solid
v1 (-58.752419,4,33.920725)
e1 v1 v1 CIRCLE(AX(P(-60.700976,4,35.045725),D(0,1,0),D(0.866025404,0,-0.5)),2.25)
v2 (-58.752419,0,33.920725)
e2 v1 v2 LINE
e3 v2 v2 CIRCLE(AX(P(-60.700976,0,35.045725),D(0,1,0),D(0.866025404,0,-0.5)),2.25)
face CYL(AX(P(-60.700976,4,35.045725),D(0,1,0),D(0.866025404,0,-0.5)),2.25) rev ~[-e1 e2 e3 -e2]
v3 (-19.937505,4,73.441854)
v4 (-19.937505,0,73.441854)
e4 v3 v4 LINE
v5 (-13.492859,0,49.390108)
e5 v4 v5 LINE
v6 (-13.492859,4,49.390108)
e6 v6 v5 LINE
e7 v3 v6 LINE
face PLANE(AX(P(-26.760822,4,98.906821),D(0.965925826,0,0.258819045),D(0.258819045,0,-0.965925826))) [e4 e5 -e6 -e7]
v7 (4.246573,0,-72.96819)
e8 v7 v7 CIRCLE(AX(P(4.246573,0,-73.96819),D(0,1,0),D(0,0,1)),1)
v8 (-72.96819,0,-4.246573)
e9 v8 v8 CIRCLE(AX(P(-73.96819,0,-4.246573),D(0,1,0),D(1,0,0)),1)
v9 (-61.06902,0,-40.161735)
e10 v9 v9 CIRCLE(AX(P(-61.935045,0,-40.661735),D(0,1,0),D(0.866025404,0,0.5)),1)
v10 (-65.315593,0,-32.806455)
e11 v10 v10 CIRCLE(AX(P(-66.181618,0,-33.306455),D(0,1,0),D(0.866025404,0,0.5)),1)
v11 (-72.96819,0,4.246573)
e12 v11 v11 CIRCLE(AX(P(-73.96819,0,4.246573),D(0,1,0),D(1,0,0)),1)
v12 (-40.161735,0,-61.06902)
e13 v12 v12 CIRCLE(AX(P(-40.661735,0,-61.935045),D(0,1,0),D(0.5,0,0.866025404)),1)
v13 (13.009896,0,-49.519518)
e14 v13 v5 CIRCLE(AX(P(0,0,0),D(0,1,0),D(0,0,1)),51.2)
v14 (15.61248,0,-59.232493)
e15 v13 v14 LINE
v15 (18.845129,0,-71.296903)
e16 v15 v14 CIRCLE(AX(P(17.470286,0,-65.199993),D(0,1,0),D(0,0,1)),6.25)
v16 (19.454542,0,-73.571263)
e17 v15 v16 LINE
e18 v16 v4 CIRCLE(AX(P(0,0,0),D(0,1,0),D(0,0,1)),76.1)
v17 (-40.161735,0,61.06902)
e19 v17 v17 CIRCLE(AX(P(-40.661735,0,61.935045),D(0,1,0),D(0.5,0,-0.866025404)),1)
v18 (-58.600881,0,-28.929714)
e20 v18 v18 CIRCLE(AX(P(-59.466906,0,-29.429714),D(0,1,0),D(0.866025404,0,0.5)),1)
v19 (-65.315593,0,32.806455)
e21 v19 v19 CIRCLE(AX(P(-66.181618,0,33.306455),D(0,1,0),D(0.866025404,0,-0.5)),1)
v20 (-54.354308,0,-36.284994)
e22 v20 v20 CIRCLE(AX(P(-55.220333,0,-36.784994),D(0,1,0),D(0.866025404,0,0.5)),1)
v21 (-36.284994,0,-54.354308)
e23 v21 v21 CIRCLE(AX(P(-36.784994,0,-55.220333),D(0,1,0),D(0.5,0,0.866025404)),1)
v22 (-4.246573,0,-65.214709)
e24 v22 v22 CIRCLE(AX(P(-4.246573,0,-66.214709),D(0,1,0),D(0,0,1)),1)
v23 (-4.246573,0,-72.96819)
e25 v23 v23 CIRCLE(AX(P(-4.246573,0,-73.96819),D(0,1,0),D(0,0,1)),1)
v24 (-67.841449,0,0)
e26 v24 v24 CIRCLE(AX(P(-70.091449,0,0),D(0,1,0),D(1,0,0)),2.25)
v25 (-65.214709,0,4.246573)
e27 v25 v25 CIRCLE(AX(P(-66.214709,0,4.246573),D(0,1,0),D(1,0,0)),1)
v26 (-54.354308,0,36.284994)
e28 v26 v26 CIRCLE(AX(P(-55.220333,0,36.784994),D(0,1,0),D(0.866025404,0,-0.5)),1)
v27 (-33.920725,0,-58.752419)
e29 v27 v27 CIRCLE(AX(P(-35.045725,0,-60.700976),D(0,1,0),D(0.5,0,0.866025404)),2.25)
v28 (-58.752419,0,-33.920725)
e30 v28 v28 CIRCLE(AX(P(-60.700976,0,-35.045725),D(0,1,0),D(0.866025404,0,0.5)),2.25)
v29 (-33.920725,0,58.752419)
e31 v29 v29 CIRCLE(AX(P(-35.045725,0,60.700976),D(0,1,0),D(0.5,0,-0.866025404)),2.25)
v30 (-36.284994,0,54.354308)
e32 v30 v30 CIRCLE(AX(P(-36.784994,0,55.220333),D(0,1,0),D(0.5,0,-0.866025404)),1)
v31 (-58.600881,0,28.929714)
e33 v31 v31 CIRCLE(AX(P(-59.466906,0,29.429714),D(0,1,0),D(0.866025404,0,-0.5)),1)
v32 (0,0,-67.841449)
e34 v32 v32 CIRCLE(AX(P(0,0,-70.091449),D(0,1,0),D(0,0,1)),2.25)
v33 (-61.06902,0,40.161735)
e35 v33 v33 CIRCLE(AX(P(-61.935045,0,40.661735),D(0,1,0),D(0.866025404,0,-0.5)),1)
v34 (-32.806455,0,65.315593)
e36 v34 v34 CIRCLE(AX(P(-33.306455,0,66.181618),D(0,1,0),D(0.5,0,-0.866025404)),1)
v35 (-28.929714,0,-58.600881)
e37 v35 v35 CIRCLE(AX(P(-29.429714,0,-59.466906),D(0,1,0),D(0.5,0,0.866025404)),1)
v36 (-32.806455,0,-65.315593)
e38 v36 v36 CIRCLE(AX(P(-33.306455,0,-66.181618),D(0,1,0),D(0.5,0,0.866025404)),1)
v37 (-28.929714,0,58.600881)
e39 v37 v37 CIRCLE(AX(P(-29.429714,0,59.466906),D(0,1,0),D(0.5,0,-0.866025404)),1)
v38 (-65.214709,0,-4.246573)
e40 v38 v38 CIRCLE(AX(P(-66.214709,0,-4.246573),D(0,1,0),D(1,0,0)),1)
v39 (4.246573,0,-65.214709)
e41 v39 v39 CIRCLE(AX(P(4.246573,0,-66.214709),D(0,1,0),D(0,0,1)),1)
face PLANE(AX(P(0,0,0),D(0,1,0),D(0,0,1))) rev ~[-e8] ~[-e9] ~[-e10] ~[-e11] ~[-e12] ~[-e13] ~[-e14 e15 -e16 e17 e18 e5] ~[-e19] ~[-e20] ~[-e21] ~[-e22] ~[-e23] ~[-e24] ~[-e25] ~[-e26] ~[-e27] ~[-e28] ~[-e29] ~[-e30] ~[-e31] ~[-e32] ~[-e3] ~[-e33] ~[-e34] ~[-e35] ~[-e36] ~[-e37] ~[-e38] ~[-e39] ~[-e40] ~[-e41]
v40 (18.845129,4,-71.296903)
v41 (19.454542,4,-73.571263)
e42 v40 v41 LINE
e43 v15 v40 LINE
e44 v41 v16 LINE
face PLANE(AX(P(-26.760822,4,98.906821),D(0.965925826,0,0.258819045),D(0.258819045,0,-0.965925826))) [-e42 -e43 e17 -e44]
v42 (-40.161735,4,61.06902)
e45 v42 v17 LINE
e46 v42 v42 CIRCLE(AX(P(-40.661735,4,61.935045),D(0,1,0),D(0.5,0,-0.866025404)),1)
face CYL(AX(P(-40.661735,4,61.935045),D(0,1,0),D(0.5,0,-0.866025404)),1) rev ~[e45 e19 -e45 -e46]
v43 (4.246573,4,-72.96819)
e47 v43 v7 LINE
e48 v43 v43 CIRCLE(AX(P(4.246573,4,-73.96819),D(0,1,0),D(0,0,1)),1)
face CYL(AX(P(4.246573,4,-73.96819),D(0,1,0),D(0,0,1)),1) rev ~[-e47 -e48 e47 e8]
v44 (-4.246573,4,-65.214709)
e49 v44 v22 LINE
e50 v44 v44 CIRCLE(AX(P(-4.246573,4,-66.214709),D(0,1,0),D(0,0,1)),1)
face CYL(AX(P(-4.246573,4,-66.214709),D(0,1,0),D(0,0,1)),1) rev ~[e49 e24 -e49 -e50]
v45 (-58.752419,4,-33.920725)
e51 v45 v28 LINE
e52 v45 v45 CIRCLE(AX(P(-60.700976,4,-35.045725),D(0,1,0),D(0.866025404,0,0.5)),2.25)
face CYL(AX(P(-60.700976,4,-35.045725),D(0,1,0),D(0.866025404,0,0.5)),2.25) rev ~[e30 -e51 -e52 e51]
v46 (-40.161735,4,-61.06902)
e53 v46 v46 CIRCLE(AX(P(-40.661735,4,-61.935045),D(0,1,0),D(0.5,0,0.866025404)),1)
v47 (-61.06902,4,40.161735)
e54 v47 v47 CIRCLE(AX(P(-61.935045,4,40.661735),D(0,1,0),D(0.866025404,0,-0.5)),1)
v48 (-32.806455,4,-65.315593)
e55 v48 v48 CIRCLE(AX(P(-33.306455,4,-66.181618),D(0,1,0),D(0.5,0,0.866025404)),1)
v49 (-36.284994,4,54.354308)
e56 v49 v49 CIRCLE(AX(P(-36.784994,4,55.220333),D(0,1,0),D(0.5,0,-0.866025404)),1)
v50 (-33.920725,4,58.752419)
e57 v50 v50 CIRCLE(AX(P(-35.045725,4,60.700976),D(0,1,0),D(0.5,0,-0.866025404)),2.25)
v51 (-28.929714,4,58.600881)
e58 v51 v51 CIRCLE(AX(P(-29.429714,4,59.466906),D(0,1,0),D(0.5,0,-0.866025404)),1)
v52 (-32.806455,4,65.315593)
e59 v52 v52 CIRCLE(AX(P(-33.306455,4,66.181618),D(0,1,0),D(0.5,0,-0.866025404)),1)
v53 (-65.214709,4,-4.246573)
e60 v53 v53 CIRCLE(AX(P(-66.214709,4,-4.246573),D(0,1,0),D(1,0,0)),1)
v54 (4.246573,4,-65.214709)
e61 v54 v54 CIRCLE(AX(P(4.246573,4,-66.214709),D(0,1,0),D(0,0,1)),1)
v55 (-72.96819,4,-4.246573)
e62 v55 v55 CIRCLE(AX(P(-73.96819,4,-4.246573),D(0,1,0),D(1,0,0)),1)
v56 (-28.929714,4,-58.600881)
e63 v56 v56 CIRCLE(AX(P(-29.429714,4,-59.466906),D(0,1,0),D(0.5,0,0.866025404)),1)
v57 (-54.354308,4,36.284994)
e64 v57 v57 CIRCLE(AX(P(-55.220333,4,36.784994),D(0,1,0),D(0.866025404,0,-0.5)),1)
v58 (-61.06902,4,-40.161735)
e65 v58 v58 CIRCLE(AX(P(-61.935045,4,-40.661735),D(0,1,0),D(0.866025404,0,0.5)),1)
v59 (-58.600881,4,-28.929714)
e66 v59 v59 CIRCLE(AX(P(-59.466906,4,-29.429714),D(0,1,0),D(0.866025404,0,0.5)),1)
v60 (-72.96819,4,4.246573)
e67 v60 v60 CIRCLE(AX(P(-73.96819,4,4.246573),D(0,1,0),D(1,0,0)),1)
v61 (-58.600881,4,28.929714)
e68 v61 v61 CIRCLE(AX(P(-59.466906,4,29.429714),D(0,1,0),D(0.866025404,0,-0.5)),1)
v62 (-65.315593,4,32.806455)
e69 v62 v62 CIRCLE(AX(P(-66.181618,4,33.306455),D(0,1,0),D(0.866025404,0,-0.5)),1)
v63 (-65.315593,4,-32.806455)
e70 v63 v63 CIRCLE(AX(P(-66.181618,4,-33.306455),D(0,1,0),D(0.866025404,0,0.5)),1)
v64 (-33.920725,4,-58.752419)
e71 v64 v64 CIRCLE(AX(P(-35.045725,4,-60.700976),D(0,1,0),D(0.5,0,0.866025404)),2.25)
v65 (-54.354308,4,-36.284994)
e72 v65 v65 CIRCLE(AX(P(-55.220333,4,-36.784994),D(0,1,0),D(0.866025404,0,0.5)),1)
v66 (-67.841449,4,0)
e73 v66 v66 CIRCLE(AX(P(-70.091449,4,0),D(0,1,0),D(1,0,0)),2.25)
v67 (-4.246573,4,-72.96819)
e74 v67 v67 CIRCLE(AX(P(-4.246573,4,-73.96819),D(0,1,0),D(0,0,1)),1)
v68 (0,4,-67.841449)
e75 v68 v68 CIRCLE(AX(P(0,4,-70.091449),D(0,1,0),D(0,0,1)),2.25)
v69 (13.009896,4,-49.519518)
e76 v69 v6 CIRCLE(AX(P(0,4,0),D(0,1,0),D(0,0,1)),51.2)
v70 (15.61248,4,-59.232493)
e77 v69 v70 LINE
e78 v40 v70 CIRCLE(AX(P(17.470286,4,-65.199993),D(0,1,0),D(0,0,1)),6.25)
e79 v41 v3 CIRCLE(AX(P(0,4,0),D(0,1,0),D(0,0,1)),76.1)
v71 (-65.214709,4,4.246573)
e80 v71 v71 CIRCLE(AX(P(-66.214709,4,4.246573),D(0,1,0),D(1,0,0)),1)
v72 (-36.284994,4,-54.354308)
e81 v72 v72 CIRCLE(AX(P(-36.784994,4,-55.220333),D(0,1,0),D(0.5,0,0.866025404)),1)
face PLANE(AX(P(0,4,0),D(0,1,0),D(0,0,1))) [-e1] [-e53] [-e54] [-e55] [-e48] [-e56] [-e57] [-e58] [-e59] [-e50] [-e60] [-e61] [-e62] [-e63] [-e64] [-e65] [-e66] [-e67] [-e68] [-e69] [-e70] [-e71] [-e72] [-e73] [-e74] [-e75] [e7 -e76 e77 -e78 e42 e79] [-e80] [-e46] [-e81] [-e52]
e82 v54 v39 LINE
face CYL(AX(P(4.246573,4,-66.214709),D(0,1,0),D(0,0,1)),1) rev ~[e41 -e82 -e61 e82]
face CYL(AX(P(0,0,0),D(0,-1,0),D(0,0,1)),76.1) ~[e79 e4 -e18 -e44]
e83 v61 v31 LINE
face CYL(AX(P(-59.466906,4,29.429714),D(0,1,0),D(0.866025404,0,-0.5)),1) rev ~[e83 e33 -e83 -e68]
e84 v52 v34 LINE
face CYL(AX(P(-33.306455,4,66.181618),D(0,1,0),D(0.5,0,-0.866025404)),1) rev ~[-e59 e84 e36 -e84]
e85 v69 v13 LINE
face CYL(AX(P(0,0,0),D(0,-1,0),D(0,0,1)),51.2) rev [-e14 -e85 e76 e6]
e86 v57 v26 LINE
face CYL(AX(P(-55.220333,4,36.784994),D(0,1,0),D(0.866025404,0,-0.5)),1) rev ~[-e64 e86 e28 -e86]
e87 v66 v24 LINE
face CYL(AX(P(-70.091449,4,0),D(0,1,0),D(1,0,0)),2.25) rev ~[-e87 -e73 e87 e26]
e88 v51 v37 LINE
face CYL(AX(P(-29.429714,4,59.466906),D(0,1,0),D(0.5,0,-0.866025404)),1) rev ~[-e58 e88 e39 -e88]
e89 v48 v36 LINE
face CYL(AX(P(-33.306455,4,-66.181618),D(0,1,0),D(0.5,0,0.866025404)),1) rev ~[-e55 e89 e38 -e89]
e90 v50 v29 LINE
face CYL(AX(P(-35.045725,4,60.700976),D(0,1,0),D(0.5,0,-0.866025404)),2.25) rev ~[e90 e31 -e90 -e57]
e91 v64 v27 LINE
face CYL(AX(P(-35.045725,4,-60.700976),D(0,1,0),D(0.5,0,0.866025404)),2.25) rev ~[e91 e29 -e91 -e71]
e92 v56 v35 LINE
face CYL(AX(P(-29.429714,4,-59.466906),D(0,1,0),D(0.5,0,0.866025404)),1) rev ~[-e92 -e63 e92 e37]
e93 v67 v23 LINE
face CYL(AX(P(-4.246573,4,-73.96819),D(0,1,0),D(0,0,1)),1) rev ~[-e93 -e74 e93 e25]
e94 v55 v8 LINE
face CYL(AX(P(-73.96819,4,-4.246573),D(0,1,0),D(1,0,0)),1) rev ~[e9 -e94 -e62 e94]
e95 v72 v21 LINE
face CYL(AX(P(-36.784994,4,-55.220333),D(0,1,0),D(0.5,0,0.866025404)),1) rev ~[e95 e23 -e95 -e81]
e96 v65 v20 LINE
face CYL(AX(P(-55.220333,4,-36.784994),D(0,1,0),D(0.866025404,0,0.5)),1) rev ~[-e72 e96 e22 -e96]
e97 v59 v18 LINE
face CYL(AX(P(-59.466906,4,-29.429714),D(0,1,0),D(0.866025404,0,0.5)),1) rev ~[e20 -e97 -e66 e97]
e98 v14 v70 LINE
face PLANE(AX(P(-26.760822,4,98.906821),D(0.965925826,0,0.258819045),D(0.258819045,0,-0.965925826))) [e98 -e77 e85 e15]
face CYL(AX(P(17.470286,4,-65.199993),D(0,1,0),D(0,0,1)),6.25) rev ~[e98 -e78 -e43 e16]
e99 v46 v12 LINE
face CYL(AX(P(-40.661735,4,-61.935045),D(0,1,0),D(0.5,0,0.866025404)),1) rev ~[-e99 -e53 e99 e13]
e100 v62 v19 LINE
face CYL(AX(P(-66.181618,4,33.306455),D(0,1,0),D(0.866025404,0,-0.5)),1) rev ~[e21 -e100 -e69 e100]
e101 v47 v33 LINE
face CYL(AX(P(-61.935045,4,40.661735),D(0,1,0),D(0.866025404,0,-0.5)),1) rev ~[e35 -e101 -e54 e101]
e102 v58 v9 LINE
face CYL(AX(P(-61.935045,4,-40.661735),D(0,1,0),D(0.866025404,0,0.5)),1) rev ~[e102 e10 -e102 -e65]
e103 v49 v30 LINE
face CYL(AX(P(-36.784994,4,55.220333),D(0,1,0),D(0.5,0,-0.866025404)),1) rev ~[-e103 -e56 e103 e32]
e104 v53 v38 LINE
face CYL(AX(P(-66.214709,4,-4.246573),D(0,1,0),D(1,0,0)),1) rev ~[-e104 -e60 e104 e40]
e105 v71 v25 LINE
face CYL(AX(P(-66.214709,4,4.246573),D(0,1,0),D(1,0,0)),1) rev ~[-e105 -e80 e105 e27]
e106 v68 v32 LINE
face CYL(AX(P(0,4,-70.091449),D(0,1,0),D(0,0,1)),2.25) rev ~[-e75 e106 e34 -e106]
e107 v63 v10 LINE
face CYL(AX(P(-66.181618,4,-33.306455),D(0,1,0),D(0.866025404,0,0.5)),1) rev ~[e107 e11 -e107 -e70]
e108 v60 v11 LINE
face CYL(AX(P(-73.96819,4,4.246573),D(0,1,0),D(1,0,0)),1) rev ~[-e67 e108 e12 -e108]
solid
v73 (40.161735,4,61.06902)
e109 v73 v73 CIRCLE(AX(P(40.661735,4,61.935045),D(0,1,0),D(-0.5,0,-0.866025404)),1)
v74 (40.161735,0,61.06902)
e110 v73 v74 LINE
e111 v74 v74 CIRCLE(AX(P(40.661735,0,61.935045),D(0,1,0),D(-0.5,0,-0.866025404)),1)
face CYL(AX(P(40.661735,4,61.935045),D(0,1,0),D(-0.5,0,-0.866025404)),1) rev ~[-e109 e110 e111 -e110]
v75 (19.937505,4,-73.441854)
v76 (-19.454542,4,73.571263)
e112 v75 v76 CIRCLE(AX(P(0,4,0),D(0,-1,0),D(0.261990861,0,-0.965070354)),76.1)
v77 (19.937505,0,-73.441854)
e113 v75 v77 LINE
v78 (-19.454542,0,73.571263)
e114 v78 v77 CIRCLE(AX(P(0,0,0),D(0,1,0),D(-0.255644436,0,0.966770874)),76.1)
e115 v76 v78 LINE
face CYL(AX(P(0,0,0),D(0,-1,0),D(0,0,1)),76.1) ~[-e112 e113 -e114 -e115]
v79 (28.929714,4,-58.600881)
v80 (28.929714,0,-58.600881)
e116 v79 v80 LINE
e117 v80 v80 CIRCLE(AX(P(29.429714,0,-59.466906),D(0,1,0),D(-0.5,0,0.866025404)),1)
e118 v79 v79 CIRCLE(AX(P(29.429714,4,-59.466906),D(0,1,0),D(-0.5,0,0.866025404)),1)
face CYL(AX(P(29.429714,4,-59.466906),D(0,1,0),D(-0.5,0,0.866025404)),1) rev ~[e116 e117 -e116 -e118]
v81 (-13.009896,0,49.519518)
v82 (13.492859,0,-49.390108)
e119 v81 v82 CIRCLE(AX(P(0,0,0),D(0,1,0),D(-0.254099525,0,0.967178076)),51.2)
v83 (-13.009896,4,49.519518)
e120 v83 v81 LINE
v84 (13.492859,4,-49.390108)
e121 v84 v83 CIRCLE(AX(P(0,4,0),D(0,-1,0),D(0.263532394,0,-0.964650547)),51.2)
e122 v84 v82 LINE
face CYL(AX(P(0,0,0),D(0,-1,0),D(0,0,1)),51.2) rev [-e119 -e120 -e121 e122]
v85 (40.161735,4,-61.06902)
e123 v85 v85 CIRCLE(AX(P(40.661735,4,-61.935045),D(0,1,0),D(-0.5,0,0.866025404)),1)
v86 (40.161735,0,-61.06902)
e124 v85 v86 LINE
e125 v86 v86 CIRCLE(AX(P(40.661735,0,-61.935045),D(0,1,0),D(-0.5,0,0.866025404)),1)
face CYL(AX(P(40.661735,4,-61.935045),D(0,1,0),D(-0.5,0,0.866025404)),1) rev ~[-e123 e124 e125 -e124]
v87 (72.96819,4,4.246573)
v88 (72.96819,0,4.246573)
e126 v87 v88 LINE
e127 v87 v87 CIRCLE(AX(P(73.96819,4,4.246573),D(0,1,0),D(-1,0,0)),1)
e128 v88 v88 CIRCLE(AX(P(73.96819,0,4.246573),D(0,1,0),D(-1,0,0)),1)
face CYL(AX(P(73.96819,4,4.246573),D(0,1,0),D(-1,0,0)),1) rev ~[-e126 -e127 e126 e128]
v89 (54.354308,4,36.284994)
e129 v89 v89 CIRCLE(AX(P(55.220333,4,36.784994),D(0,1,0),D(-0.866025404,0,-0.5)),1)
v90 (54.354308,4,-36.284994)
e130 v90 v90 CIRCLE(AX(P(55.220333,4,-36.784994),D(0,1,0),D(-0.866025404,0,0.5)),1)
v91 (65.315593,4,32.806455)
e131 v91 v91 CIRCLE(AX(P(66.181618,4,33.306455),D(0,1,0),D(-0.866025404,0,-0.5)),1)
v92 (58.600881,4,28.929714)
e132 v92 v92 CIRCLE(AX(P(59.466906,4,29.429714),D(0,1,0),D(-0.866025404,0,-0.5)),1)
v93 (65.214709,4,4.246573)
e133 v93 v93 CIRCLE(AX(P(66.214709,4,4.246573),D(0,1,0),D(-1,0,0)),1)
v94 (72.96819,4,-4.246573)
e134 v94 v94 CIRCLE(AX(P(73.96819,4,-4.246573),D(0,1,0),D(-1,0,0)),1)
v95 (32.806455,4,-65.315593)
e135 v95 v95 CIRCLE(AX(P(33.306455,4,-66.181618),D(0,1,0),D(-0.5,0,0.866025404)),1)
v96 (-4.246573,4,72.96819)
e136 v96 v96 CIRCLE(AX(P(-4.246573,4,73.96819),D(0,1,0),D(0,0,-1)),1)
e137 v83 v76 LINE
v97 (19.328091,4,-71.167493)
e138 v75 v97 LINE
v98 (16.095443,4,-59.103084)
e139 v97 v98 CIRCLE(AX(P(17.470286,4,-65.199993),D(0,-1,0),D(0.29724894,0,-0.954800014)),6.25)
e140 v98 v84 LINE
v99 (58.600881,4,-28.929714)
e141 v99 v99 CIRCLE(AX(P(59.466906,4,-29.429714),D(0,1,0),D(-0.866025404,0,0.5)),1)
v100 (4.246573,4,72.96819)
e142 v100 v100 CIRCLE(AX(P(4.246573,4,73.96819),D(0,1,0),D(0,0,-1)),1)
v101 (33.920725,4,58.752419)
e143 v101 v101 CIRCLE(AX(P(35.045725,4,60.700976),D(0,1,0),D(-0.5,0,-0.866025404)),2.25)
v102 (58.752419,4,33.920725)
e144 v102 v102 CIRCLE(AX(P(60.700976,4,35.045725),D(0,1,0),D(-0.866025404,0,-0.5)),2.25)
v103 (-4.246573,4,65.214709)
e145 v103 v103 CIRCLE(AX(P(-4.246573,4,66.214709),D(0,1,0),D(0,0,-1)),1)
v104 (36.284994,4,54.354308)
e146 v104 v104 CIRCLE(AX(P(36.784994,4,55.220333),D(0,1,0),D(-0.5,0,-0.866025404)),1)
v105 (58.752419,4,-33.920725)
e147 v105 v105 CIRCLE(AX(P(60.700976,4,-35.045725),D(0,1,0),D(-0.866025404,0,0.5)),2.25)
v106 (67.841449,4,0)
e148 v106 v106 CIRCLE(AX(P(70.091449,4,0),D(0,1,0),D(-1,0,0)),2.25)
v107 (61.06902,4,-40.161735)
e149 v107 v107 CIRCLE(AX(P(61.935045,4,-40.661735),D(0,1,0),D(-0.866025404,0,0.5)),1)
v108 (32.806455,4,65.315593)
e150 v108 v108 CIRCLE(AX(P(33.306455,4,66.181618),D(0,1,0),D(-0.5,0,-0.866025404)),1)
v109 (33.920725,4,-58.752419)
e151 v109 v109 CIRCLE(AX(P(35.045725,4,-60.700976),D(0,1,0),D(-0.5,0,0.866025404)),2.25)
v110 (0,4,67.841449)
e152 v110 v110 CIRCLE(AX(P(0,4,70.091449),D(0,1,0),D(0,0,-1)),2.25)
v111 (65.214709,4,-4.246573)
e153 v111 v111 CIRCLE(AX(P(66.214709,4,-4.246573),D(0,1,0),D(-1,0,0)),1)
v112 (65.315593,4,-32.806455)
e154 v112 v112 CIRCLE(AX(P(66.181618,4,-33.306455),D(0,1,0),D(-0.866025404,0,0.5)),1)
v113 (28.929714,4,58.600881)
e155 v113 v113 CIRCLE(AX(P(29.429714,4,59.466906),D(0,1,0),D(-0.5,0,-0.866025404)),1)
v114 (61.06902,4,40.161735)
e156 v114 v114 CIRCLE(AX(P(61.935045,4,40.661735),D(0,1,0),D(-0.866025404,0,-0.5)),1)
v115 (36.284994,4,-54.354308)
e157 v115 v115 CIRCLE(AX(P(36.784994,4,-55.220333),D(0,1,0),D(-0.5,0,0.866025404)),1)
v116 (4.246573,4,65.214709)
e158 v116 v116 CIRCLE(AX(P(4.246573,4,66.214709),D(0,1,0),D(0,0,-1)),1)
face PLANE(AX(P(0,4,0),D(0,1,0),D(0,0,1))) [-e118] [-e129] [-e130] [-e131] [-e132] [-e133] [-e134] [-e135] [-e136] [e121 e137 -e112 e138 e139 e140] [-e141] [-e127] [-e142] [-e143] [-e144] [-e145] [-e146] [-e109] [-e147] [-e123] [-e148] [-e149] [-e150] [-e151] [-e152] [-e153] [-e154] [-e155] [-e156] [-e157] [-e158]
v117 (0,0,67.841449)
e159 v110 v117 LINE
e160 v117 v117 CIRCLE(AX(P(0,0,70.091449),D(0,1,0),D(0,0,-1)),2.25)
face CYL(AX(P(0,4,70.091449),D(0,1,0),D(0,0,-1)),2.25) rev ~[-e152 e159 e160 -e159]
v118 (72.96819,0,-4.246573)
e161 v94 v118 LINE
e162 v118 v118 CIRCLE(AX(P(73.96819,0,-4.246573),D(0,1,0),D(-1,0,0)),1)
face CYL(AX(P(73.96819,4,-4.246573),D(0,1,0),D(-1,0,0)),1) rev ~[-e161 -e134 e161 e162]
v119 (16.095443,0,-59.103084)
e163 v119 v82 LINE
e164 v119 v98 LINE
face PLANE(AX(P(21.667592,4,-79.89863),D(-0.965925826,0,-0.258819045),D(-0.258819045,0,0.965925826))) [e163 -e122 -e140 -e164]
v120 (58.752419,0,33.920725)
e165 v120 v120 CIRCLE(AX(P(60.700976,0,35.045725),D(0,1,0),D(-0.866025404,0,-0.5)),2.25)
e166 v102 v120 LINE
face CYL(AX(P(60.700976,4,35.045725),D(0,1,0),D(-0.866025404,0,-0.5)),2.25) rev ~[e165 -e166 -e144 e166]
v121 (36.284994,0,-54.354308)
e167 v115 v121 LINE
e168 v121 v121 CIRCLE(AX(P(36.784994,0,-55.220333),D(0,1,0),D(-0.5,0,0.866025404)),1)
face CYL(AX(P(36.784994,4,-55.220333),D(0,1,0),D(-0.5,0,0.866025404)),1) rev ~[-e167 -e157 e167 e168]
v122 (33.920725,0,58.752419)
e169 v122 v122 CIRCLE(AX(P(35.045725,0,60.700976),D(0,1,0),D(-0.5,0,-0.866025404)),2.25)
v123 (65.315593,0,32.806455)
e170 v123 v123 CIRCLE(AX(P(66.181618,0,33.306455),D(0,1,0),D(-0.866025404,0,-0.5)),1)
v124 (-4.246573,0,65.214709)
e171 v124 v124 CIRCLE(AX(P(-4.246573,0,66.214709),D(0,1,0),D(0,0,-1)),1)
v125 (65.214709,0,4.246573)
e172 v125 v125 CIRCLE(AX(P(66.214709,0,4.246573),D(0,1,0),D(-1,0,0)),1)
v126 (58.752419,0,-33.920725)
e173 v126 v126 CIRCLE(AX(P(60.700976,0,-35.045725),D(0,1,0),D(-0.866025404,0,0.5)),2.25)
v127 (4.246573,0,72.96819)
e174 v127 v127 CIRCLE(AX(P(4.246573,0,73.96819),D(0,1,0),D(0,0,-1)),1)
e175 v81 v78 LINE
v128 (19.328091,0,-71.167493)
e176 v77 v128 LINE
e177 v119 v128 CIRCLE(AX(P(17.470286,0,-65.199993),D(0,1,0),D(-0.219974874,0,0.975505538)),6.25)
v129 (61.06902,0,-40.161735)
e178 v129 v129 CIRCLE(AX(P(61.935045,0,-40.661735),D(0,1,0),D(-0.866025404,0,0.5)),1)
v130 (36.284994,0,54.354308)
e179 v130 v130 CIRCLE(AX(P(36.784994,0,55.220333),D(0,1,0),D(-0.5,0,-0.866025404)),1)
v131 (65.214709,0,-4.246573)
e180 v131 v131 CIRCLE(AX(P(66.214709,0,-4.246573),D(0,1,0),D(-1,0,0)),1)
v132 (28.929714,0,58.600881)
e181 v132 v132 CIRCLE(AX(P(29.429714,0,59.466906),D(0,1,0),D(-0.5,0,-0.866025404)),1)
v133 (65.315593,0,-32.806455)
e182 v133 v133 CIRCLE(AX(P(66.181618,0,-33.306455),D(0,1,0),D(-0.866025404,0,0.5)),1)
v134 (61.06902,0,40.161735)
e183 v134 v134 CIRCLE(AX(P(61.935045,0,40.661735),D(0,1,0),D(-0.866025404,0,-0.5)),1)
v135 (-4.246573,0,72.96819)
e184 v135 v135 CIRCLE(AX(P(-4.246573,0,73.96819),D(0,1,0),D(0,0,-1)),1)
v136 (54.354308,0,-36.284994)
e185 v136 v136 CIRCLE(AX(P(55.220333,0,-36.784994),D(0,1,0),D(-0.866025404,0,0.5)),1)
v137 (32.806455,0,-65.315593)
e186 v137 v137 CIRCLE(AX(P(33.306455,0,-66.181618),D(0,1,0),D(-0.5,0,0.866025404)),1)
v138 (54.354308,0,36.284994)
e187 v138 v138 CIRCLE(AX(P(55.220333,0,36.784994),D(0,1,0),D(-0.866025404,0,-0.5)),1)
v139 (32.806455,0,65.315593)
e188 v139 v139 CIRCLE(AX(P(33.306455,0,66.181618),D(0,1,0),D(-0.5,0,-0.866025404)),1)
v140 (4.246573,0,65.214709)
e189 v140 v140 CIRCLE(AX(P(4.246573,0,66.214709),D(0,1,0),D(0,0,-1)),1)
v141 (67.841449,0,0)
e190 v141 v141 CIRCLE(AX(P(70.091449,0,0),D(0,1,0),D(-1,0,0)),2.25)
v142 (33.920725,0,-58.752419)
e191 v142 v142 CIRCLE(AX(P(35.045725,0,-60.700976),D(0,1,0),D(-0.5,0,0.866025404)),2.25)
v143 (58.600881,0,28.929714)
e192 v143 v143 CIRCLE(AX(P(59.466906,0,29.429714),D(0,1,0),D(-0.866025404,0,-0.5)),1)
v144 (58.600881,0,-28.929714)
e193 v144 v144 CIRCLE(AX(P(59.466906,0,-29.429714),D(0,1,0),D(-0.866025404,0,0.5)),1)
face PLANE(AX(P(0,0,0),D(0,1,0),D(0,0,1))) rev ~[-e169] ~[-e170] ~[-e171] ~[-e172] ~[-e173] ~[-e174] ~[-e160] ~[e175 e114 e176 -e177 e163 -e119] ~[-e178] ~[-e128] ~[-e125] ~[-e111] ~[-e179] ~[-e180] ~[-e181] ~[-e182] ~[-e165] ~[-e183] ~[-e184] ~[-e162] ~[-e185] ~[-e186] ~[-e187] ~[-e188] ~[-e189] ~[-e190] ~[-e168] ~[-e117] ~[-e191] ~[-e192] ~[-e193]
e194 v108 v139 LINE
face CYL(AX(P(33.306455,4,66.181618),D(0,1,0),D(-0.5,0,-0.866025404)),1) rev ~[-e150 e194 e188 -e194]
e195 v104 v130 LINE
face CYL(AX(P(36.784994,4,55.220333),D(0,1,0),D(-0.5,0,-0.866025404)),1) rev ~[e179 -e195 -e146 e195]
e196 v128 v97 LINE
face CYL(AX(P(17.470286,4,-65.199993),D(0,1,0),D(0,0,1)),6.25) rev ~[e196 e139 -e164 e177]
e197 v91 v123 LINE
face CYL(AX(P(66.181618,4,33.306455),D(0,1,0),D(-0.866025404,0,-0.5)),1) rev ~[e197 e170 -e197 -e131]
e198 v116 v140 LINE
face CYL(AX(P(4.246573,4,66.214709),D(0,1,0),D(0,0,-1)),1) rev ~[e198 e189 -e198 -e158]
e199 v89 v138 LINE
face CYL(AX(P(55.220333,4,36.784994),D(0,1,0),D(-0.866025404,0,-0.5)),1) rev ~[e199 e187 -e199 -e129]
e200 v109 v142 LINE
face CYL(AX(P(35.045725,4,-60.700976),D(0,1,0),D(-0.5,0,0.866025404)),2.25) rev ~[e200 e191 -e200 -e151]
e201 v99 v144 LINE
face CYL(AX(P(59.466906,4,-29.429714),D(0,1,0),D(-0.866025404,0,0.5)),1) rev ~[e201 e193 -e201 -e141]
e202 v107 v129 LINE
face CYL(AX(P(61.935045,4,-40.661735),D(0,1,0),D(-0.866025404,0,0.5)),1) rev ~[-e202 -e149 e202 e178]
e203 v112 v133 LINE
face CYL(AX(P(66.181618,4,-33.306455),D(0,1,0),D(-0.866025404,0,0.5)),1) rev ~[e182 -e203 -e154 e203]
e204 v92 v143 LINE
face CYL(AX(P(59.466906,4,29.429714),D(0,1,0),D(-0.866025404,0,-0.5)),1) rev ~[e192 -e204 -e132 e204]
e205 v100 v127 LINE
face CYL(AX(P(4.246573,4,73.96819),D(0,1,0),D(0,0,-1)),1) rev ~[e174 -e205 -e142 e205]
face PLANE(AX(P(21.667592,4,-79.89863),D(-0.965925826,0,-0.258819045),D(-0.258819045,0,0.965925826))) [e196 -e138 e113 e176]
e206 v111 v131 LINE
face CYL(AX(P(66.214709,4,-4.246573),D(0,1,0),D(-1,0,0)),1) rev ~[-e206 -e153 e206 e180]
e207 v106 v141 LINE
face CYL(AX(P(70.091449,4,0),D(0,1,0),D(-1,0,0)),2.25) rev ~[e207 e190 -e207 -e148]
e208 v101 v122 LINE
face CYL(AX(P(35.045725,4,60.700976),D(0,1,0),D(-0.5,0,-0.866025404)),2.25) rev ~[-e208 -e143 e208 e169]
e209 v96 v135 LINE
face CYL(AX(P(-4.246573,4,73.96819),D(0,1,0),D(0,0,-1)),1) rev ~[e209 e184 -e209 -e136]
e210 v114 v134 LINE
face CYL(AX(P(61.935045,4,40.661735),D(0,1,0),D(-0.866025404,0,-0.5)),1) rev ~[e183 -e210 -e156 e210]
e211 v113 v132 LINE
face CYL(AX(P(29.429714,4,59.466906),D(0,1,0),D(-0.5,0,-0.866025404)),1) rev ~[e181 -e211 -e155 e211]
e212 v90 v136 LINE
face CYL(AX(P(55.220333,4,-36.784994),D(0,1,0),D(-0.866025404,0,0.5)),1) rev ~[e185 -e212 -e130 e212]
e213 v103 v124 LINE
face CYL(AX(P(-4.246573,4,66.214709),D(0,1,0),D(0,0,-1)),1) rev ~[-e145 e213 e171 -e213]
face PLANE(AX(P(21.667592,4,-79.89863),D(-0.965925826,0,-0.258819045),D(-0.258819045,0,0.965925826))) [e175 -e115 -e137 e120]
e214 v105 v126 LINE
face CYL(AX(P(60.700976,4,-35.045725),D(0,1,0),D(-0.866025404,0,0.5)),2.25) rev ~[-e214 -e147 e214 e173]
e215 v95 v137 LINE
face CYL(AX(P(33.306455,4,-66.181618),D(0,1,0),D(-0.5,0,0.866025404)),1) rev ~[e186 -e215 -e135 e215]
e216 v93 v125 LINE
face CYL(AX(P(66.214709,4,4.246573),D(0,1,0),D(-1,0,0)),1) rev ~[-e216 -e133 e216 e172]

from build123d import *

# Parameters (mm, degrees)
SKETCH1_R           = 76.1
SKETCH1_R_2         = 51.2
BOSS_EXTRUDE1_DEPTH = 4
SKETCH2_R           = 2.25
SKETCH2_R_2         = 1
CUT_EXTRUDE1_DEPTH  = 108.695960927
CIRPATTERN1_COUNT   = 12
SKETCH3_R           = 6.25
CUT_EXTRUDE2_DEPTH  = 10
CUT_EXTRUDE3_DEPTH  = 108.695960927


with BuildPart() as part:
    # Sketch1 → Boss-Extrude1 (new body)
    with BuildSketch(Plane(origin=(0, 0, 0), x_dir=(1, 0, 0), z_dir=(0, 1, 0))):
        Circle(SKETCH1_R)
        Circle(SKETCH1_R_2, mode=Mode.SUBTRACT)
    extrude(amount=BOSS_EXTRUDE1_DEPTH)

    # Sketch2 → Cut-Extrude1 (cut, through all)
    with BuildSketch(Plane(origin=(0, 4, 0), x_dir=(1, 0, 0), z_dir=(0, 1, 0))):
        with Locations((0, 70.091449319)):
            Circle(SKETCH2_R)
        with Locations((4.246572956, 73.968189977)):
            Circle(SKETCH2_R_2)
        with Locations((4.246572956, 66.214708661)):
            Circle(SKETCH2_R_2)
        with Locations((-4.246572956, 66.214708661)):
            Circle(SKETCH2_R_2)
        with Locations((-4.246572956, 73.968189977)):
            Circle(SKETCH2_R_2)
    cut_extrude1 = extrude(amount=-CUT_EXTRUDE1_DEPTH, mode=Mode.SUBTRACT)

    # CirPattern1: Cut-Extrude1 ×12 about axis
    cirpattern1_axis = Axis((0, -0.2, 0), (0, 1, 0))
    for i in range(1, CIRPATTERN1_COUNT):
        add(cut_extrude1.rotate(cirpattern1_axis, i * 360 / CIRPATTERN1_COUNT), mode=Mode.SUBTRACT)

    # Sketch3 → Cut-Extrude2 (cut)
    with BuildSketch(Plane(origin=(0, 4, 0), x_dir=(1, 0, 0), z_dir=(0, 1, 0))):
        with Locations((17.470285544, 65.199993275)):
            Circle(SKETCH3_R)
    extrude(amount=-CUT_EXTRUDE2_DEPTH, mode=Mode.SUBTRACT)

    # Sketch4 → Cut-Extrude3 (cut, through all)
    with BuildSketch(Plane(origin=(0, 4, 0), x_dir=(1, 0, 0), z_dir=(0, 1, 0))):
        Polygon((21.667592424, 79.898629977), (-26.277858968, -99.03623061), (-26.760821881, -98.906821087), (21.184629511, 80.028039499), align=None)
    extrude(amount=-CUT_EXTRUDE3_DEPTH, mode=Mode.SUBTRACT)


with BuildPart() as cut_extrude3_piece_1:
    # of the separate pieces the step leaves, piece 1, a body of its own (cut_extrude3_pieces)
    add(part.part.solids().sort_by_distance((-19.454541593, 0, 73.571263489))[0])


with BuildPart() as cut_extrude3_piece_2:
    # of the separate pieces the step leaves, piece 2, a body of its own (cut_extrude3_pieces)
    add(part.part.solids().sort_by_distance((19.454541593, 0, -73.571263489))[0])


solid = Compound([cut_extrude3_piece_1.part, cut_extrude3_piece_2.part])
